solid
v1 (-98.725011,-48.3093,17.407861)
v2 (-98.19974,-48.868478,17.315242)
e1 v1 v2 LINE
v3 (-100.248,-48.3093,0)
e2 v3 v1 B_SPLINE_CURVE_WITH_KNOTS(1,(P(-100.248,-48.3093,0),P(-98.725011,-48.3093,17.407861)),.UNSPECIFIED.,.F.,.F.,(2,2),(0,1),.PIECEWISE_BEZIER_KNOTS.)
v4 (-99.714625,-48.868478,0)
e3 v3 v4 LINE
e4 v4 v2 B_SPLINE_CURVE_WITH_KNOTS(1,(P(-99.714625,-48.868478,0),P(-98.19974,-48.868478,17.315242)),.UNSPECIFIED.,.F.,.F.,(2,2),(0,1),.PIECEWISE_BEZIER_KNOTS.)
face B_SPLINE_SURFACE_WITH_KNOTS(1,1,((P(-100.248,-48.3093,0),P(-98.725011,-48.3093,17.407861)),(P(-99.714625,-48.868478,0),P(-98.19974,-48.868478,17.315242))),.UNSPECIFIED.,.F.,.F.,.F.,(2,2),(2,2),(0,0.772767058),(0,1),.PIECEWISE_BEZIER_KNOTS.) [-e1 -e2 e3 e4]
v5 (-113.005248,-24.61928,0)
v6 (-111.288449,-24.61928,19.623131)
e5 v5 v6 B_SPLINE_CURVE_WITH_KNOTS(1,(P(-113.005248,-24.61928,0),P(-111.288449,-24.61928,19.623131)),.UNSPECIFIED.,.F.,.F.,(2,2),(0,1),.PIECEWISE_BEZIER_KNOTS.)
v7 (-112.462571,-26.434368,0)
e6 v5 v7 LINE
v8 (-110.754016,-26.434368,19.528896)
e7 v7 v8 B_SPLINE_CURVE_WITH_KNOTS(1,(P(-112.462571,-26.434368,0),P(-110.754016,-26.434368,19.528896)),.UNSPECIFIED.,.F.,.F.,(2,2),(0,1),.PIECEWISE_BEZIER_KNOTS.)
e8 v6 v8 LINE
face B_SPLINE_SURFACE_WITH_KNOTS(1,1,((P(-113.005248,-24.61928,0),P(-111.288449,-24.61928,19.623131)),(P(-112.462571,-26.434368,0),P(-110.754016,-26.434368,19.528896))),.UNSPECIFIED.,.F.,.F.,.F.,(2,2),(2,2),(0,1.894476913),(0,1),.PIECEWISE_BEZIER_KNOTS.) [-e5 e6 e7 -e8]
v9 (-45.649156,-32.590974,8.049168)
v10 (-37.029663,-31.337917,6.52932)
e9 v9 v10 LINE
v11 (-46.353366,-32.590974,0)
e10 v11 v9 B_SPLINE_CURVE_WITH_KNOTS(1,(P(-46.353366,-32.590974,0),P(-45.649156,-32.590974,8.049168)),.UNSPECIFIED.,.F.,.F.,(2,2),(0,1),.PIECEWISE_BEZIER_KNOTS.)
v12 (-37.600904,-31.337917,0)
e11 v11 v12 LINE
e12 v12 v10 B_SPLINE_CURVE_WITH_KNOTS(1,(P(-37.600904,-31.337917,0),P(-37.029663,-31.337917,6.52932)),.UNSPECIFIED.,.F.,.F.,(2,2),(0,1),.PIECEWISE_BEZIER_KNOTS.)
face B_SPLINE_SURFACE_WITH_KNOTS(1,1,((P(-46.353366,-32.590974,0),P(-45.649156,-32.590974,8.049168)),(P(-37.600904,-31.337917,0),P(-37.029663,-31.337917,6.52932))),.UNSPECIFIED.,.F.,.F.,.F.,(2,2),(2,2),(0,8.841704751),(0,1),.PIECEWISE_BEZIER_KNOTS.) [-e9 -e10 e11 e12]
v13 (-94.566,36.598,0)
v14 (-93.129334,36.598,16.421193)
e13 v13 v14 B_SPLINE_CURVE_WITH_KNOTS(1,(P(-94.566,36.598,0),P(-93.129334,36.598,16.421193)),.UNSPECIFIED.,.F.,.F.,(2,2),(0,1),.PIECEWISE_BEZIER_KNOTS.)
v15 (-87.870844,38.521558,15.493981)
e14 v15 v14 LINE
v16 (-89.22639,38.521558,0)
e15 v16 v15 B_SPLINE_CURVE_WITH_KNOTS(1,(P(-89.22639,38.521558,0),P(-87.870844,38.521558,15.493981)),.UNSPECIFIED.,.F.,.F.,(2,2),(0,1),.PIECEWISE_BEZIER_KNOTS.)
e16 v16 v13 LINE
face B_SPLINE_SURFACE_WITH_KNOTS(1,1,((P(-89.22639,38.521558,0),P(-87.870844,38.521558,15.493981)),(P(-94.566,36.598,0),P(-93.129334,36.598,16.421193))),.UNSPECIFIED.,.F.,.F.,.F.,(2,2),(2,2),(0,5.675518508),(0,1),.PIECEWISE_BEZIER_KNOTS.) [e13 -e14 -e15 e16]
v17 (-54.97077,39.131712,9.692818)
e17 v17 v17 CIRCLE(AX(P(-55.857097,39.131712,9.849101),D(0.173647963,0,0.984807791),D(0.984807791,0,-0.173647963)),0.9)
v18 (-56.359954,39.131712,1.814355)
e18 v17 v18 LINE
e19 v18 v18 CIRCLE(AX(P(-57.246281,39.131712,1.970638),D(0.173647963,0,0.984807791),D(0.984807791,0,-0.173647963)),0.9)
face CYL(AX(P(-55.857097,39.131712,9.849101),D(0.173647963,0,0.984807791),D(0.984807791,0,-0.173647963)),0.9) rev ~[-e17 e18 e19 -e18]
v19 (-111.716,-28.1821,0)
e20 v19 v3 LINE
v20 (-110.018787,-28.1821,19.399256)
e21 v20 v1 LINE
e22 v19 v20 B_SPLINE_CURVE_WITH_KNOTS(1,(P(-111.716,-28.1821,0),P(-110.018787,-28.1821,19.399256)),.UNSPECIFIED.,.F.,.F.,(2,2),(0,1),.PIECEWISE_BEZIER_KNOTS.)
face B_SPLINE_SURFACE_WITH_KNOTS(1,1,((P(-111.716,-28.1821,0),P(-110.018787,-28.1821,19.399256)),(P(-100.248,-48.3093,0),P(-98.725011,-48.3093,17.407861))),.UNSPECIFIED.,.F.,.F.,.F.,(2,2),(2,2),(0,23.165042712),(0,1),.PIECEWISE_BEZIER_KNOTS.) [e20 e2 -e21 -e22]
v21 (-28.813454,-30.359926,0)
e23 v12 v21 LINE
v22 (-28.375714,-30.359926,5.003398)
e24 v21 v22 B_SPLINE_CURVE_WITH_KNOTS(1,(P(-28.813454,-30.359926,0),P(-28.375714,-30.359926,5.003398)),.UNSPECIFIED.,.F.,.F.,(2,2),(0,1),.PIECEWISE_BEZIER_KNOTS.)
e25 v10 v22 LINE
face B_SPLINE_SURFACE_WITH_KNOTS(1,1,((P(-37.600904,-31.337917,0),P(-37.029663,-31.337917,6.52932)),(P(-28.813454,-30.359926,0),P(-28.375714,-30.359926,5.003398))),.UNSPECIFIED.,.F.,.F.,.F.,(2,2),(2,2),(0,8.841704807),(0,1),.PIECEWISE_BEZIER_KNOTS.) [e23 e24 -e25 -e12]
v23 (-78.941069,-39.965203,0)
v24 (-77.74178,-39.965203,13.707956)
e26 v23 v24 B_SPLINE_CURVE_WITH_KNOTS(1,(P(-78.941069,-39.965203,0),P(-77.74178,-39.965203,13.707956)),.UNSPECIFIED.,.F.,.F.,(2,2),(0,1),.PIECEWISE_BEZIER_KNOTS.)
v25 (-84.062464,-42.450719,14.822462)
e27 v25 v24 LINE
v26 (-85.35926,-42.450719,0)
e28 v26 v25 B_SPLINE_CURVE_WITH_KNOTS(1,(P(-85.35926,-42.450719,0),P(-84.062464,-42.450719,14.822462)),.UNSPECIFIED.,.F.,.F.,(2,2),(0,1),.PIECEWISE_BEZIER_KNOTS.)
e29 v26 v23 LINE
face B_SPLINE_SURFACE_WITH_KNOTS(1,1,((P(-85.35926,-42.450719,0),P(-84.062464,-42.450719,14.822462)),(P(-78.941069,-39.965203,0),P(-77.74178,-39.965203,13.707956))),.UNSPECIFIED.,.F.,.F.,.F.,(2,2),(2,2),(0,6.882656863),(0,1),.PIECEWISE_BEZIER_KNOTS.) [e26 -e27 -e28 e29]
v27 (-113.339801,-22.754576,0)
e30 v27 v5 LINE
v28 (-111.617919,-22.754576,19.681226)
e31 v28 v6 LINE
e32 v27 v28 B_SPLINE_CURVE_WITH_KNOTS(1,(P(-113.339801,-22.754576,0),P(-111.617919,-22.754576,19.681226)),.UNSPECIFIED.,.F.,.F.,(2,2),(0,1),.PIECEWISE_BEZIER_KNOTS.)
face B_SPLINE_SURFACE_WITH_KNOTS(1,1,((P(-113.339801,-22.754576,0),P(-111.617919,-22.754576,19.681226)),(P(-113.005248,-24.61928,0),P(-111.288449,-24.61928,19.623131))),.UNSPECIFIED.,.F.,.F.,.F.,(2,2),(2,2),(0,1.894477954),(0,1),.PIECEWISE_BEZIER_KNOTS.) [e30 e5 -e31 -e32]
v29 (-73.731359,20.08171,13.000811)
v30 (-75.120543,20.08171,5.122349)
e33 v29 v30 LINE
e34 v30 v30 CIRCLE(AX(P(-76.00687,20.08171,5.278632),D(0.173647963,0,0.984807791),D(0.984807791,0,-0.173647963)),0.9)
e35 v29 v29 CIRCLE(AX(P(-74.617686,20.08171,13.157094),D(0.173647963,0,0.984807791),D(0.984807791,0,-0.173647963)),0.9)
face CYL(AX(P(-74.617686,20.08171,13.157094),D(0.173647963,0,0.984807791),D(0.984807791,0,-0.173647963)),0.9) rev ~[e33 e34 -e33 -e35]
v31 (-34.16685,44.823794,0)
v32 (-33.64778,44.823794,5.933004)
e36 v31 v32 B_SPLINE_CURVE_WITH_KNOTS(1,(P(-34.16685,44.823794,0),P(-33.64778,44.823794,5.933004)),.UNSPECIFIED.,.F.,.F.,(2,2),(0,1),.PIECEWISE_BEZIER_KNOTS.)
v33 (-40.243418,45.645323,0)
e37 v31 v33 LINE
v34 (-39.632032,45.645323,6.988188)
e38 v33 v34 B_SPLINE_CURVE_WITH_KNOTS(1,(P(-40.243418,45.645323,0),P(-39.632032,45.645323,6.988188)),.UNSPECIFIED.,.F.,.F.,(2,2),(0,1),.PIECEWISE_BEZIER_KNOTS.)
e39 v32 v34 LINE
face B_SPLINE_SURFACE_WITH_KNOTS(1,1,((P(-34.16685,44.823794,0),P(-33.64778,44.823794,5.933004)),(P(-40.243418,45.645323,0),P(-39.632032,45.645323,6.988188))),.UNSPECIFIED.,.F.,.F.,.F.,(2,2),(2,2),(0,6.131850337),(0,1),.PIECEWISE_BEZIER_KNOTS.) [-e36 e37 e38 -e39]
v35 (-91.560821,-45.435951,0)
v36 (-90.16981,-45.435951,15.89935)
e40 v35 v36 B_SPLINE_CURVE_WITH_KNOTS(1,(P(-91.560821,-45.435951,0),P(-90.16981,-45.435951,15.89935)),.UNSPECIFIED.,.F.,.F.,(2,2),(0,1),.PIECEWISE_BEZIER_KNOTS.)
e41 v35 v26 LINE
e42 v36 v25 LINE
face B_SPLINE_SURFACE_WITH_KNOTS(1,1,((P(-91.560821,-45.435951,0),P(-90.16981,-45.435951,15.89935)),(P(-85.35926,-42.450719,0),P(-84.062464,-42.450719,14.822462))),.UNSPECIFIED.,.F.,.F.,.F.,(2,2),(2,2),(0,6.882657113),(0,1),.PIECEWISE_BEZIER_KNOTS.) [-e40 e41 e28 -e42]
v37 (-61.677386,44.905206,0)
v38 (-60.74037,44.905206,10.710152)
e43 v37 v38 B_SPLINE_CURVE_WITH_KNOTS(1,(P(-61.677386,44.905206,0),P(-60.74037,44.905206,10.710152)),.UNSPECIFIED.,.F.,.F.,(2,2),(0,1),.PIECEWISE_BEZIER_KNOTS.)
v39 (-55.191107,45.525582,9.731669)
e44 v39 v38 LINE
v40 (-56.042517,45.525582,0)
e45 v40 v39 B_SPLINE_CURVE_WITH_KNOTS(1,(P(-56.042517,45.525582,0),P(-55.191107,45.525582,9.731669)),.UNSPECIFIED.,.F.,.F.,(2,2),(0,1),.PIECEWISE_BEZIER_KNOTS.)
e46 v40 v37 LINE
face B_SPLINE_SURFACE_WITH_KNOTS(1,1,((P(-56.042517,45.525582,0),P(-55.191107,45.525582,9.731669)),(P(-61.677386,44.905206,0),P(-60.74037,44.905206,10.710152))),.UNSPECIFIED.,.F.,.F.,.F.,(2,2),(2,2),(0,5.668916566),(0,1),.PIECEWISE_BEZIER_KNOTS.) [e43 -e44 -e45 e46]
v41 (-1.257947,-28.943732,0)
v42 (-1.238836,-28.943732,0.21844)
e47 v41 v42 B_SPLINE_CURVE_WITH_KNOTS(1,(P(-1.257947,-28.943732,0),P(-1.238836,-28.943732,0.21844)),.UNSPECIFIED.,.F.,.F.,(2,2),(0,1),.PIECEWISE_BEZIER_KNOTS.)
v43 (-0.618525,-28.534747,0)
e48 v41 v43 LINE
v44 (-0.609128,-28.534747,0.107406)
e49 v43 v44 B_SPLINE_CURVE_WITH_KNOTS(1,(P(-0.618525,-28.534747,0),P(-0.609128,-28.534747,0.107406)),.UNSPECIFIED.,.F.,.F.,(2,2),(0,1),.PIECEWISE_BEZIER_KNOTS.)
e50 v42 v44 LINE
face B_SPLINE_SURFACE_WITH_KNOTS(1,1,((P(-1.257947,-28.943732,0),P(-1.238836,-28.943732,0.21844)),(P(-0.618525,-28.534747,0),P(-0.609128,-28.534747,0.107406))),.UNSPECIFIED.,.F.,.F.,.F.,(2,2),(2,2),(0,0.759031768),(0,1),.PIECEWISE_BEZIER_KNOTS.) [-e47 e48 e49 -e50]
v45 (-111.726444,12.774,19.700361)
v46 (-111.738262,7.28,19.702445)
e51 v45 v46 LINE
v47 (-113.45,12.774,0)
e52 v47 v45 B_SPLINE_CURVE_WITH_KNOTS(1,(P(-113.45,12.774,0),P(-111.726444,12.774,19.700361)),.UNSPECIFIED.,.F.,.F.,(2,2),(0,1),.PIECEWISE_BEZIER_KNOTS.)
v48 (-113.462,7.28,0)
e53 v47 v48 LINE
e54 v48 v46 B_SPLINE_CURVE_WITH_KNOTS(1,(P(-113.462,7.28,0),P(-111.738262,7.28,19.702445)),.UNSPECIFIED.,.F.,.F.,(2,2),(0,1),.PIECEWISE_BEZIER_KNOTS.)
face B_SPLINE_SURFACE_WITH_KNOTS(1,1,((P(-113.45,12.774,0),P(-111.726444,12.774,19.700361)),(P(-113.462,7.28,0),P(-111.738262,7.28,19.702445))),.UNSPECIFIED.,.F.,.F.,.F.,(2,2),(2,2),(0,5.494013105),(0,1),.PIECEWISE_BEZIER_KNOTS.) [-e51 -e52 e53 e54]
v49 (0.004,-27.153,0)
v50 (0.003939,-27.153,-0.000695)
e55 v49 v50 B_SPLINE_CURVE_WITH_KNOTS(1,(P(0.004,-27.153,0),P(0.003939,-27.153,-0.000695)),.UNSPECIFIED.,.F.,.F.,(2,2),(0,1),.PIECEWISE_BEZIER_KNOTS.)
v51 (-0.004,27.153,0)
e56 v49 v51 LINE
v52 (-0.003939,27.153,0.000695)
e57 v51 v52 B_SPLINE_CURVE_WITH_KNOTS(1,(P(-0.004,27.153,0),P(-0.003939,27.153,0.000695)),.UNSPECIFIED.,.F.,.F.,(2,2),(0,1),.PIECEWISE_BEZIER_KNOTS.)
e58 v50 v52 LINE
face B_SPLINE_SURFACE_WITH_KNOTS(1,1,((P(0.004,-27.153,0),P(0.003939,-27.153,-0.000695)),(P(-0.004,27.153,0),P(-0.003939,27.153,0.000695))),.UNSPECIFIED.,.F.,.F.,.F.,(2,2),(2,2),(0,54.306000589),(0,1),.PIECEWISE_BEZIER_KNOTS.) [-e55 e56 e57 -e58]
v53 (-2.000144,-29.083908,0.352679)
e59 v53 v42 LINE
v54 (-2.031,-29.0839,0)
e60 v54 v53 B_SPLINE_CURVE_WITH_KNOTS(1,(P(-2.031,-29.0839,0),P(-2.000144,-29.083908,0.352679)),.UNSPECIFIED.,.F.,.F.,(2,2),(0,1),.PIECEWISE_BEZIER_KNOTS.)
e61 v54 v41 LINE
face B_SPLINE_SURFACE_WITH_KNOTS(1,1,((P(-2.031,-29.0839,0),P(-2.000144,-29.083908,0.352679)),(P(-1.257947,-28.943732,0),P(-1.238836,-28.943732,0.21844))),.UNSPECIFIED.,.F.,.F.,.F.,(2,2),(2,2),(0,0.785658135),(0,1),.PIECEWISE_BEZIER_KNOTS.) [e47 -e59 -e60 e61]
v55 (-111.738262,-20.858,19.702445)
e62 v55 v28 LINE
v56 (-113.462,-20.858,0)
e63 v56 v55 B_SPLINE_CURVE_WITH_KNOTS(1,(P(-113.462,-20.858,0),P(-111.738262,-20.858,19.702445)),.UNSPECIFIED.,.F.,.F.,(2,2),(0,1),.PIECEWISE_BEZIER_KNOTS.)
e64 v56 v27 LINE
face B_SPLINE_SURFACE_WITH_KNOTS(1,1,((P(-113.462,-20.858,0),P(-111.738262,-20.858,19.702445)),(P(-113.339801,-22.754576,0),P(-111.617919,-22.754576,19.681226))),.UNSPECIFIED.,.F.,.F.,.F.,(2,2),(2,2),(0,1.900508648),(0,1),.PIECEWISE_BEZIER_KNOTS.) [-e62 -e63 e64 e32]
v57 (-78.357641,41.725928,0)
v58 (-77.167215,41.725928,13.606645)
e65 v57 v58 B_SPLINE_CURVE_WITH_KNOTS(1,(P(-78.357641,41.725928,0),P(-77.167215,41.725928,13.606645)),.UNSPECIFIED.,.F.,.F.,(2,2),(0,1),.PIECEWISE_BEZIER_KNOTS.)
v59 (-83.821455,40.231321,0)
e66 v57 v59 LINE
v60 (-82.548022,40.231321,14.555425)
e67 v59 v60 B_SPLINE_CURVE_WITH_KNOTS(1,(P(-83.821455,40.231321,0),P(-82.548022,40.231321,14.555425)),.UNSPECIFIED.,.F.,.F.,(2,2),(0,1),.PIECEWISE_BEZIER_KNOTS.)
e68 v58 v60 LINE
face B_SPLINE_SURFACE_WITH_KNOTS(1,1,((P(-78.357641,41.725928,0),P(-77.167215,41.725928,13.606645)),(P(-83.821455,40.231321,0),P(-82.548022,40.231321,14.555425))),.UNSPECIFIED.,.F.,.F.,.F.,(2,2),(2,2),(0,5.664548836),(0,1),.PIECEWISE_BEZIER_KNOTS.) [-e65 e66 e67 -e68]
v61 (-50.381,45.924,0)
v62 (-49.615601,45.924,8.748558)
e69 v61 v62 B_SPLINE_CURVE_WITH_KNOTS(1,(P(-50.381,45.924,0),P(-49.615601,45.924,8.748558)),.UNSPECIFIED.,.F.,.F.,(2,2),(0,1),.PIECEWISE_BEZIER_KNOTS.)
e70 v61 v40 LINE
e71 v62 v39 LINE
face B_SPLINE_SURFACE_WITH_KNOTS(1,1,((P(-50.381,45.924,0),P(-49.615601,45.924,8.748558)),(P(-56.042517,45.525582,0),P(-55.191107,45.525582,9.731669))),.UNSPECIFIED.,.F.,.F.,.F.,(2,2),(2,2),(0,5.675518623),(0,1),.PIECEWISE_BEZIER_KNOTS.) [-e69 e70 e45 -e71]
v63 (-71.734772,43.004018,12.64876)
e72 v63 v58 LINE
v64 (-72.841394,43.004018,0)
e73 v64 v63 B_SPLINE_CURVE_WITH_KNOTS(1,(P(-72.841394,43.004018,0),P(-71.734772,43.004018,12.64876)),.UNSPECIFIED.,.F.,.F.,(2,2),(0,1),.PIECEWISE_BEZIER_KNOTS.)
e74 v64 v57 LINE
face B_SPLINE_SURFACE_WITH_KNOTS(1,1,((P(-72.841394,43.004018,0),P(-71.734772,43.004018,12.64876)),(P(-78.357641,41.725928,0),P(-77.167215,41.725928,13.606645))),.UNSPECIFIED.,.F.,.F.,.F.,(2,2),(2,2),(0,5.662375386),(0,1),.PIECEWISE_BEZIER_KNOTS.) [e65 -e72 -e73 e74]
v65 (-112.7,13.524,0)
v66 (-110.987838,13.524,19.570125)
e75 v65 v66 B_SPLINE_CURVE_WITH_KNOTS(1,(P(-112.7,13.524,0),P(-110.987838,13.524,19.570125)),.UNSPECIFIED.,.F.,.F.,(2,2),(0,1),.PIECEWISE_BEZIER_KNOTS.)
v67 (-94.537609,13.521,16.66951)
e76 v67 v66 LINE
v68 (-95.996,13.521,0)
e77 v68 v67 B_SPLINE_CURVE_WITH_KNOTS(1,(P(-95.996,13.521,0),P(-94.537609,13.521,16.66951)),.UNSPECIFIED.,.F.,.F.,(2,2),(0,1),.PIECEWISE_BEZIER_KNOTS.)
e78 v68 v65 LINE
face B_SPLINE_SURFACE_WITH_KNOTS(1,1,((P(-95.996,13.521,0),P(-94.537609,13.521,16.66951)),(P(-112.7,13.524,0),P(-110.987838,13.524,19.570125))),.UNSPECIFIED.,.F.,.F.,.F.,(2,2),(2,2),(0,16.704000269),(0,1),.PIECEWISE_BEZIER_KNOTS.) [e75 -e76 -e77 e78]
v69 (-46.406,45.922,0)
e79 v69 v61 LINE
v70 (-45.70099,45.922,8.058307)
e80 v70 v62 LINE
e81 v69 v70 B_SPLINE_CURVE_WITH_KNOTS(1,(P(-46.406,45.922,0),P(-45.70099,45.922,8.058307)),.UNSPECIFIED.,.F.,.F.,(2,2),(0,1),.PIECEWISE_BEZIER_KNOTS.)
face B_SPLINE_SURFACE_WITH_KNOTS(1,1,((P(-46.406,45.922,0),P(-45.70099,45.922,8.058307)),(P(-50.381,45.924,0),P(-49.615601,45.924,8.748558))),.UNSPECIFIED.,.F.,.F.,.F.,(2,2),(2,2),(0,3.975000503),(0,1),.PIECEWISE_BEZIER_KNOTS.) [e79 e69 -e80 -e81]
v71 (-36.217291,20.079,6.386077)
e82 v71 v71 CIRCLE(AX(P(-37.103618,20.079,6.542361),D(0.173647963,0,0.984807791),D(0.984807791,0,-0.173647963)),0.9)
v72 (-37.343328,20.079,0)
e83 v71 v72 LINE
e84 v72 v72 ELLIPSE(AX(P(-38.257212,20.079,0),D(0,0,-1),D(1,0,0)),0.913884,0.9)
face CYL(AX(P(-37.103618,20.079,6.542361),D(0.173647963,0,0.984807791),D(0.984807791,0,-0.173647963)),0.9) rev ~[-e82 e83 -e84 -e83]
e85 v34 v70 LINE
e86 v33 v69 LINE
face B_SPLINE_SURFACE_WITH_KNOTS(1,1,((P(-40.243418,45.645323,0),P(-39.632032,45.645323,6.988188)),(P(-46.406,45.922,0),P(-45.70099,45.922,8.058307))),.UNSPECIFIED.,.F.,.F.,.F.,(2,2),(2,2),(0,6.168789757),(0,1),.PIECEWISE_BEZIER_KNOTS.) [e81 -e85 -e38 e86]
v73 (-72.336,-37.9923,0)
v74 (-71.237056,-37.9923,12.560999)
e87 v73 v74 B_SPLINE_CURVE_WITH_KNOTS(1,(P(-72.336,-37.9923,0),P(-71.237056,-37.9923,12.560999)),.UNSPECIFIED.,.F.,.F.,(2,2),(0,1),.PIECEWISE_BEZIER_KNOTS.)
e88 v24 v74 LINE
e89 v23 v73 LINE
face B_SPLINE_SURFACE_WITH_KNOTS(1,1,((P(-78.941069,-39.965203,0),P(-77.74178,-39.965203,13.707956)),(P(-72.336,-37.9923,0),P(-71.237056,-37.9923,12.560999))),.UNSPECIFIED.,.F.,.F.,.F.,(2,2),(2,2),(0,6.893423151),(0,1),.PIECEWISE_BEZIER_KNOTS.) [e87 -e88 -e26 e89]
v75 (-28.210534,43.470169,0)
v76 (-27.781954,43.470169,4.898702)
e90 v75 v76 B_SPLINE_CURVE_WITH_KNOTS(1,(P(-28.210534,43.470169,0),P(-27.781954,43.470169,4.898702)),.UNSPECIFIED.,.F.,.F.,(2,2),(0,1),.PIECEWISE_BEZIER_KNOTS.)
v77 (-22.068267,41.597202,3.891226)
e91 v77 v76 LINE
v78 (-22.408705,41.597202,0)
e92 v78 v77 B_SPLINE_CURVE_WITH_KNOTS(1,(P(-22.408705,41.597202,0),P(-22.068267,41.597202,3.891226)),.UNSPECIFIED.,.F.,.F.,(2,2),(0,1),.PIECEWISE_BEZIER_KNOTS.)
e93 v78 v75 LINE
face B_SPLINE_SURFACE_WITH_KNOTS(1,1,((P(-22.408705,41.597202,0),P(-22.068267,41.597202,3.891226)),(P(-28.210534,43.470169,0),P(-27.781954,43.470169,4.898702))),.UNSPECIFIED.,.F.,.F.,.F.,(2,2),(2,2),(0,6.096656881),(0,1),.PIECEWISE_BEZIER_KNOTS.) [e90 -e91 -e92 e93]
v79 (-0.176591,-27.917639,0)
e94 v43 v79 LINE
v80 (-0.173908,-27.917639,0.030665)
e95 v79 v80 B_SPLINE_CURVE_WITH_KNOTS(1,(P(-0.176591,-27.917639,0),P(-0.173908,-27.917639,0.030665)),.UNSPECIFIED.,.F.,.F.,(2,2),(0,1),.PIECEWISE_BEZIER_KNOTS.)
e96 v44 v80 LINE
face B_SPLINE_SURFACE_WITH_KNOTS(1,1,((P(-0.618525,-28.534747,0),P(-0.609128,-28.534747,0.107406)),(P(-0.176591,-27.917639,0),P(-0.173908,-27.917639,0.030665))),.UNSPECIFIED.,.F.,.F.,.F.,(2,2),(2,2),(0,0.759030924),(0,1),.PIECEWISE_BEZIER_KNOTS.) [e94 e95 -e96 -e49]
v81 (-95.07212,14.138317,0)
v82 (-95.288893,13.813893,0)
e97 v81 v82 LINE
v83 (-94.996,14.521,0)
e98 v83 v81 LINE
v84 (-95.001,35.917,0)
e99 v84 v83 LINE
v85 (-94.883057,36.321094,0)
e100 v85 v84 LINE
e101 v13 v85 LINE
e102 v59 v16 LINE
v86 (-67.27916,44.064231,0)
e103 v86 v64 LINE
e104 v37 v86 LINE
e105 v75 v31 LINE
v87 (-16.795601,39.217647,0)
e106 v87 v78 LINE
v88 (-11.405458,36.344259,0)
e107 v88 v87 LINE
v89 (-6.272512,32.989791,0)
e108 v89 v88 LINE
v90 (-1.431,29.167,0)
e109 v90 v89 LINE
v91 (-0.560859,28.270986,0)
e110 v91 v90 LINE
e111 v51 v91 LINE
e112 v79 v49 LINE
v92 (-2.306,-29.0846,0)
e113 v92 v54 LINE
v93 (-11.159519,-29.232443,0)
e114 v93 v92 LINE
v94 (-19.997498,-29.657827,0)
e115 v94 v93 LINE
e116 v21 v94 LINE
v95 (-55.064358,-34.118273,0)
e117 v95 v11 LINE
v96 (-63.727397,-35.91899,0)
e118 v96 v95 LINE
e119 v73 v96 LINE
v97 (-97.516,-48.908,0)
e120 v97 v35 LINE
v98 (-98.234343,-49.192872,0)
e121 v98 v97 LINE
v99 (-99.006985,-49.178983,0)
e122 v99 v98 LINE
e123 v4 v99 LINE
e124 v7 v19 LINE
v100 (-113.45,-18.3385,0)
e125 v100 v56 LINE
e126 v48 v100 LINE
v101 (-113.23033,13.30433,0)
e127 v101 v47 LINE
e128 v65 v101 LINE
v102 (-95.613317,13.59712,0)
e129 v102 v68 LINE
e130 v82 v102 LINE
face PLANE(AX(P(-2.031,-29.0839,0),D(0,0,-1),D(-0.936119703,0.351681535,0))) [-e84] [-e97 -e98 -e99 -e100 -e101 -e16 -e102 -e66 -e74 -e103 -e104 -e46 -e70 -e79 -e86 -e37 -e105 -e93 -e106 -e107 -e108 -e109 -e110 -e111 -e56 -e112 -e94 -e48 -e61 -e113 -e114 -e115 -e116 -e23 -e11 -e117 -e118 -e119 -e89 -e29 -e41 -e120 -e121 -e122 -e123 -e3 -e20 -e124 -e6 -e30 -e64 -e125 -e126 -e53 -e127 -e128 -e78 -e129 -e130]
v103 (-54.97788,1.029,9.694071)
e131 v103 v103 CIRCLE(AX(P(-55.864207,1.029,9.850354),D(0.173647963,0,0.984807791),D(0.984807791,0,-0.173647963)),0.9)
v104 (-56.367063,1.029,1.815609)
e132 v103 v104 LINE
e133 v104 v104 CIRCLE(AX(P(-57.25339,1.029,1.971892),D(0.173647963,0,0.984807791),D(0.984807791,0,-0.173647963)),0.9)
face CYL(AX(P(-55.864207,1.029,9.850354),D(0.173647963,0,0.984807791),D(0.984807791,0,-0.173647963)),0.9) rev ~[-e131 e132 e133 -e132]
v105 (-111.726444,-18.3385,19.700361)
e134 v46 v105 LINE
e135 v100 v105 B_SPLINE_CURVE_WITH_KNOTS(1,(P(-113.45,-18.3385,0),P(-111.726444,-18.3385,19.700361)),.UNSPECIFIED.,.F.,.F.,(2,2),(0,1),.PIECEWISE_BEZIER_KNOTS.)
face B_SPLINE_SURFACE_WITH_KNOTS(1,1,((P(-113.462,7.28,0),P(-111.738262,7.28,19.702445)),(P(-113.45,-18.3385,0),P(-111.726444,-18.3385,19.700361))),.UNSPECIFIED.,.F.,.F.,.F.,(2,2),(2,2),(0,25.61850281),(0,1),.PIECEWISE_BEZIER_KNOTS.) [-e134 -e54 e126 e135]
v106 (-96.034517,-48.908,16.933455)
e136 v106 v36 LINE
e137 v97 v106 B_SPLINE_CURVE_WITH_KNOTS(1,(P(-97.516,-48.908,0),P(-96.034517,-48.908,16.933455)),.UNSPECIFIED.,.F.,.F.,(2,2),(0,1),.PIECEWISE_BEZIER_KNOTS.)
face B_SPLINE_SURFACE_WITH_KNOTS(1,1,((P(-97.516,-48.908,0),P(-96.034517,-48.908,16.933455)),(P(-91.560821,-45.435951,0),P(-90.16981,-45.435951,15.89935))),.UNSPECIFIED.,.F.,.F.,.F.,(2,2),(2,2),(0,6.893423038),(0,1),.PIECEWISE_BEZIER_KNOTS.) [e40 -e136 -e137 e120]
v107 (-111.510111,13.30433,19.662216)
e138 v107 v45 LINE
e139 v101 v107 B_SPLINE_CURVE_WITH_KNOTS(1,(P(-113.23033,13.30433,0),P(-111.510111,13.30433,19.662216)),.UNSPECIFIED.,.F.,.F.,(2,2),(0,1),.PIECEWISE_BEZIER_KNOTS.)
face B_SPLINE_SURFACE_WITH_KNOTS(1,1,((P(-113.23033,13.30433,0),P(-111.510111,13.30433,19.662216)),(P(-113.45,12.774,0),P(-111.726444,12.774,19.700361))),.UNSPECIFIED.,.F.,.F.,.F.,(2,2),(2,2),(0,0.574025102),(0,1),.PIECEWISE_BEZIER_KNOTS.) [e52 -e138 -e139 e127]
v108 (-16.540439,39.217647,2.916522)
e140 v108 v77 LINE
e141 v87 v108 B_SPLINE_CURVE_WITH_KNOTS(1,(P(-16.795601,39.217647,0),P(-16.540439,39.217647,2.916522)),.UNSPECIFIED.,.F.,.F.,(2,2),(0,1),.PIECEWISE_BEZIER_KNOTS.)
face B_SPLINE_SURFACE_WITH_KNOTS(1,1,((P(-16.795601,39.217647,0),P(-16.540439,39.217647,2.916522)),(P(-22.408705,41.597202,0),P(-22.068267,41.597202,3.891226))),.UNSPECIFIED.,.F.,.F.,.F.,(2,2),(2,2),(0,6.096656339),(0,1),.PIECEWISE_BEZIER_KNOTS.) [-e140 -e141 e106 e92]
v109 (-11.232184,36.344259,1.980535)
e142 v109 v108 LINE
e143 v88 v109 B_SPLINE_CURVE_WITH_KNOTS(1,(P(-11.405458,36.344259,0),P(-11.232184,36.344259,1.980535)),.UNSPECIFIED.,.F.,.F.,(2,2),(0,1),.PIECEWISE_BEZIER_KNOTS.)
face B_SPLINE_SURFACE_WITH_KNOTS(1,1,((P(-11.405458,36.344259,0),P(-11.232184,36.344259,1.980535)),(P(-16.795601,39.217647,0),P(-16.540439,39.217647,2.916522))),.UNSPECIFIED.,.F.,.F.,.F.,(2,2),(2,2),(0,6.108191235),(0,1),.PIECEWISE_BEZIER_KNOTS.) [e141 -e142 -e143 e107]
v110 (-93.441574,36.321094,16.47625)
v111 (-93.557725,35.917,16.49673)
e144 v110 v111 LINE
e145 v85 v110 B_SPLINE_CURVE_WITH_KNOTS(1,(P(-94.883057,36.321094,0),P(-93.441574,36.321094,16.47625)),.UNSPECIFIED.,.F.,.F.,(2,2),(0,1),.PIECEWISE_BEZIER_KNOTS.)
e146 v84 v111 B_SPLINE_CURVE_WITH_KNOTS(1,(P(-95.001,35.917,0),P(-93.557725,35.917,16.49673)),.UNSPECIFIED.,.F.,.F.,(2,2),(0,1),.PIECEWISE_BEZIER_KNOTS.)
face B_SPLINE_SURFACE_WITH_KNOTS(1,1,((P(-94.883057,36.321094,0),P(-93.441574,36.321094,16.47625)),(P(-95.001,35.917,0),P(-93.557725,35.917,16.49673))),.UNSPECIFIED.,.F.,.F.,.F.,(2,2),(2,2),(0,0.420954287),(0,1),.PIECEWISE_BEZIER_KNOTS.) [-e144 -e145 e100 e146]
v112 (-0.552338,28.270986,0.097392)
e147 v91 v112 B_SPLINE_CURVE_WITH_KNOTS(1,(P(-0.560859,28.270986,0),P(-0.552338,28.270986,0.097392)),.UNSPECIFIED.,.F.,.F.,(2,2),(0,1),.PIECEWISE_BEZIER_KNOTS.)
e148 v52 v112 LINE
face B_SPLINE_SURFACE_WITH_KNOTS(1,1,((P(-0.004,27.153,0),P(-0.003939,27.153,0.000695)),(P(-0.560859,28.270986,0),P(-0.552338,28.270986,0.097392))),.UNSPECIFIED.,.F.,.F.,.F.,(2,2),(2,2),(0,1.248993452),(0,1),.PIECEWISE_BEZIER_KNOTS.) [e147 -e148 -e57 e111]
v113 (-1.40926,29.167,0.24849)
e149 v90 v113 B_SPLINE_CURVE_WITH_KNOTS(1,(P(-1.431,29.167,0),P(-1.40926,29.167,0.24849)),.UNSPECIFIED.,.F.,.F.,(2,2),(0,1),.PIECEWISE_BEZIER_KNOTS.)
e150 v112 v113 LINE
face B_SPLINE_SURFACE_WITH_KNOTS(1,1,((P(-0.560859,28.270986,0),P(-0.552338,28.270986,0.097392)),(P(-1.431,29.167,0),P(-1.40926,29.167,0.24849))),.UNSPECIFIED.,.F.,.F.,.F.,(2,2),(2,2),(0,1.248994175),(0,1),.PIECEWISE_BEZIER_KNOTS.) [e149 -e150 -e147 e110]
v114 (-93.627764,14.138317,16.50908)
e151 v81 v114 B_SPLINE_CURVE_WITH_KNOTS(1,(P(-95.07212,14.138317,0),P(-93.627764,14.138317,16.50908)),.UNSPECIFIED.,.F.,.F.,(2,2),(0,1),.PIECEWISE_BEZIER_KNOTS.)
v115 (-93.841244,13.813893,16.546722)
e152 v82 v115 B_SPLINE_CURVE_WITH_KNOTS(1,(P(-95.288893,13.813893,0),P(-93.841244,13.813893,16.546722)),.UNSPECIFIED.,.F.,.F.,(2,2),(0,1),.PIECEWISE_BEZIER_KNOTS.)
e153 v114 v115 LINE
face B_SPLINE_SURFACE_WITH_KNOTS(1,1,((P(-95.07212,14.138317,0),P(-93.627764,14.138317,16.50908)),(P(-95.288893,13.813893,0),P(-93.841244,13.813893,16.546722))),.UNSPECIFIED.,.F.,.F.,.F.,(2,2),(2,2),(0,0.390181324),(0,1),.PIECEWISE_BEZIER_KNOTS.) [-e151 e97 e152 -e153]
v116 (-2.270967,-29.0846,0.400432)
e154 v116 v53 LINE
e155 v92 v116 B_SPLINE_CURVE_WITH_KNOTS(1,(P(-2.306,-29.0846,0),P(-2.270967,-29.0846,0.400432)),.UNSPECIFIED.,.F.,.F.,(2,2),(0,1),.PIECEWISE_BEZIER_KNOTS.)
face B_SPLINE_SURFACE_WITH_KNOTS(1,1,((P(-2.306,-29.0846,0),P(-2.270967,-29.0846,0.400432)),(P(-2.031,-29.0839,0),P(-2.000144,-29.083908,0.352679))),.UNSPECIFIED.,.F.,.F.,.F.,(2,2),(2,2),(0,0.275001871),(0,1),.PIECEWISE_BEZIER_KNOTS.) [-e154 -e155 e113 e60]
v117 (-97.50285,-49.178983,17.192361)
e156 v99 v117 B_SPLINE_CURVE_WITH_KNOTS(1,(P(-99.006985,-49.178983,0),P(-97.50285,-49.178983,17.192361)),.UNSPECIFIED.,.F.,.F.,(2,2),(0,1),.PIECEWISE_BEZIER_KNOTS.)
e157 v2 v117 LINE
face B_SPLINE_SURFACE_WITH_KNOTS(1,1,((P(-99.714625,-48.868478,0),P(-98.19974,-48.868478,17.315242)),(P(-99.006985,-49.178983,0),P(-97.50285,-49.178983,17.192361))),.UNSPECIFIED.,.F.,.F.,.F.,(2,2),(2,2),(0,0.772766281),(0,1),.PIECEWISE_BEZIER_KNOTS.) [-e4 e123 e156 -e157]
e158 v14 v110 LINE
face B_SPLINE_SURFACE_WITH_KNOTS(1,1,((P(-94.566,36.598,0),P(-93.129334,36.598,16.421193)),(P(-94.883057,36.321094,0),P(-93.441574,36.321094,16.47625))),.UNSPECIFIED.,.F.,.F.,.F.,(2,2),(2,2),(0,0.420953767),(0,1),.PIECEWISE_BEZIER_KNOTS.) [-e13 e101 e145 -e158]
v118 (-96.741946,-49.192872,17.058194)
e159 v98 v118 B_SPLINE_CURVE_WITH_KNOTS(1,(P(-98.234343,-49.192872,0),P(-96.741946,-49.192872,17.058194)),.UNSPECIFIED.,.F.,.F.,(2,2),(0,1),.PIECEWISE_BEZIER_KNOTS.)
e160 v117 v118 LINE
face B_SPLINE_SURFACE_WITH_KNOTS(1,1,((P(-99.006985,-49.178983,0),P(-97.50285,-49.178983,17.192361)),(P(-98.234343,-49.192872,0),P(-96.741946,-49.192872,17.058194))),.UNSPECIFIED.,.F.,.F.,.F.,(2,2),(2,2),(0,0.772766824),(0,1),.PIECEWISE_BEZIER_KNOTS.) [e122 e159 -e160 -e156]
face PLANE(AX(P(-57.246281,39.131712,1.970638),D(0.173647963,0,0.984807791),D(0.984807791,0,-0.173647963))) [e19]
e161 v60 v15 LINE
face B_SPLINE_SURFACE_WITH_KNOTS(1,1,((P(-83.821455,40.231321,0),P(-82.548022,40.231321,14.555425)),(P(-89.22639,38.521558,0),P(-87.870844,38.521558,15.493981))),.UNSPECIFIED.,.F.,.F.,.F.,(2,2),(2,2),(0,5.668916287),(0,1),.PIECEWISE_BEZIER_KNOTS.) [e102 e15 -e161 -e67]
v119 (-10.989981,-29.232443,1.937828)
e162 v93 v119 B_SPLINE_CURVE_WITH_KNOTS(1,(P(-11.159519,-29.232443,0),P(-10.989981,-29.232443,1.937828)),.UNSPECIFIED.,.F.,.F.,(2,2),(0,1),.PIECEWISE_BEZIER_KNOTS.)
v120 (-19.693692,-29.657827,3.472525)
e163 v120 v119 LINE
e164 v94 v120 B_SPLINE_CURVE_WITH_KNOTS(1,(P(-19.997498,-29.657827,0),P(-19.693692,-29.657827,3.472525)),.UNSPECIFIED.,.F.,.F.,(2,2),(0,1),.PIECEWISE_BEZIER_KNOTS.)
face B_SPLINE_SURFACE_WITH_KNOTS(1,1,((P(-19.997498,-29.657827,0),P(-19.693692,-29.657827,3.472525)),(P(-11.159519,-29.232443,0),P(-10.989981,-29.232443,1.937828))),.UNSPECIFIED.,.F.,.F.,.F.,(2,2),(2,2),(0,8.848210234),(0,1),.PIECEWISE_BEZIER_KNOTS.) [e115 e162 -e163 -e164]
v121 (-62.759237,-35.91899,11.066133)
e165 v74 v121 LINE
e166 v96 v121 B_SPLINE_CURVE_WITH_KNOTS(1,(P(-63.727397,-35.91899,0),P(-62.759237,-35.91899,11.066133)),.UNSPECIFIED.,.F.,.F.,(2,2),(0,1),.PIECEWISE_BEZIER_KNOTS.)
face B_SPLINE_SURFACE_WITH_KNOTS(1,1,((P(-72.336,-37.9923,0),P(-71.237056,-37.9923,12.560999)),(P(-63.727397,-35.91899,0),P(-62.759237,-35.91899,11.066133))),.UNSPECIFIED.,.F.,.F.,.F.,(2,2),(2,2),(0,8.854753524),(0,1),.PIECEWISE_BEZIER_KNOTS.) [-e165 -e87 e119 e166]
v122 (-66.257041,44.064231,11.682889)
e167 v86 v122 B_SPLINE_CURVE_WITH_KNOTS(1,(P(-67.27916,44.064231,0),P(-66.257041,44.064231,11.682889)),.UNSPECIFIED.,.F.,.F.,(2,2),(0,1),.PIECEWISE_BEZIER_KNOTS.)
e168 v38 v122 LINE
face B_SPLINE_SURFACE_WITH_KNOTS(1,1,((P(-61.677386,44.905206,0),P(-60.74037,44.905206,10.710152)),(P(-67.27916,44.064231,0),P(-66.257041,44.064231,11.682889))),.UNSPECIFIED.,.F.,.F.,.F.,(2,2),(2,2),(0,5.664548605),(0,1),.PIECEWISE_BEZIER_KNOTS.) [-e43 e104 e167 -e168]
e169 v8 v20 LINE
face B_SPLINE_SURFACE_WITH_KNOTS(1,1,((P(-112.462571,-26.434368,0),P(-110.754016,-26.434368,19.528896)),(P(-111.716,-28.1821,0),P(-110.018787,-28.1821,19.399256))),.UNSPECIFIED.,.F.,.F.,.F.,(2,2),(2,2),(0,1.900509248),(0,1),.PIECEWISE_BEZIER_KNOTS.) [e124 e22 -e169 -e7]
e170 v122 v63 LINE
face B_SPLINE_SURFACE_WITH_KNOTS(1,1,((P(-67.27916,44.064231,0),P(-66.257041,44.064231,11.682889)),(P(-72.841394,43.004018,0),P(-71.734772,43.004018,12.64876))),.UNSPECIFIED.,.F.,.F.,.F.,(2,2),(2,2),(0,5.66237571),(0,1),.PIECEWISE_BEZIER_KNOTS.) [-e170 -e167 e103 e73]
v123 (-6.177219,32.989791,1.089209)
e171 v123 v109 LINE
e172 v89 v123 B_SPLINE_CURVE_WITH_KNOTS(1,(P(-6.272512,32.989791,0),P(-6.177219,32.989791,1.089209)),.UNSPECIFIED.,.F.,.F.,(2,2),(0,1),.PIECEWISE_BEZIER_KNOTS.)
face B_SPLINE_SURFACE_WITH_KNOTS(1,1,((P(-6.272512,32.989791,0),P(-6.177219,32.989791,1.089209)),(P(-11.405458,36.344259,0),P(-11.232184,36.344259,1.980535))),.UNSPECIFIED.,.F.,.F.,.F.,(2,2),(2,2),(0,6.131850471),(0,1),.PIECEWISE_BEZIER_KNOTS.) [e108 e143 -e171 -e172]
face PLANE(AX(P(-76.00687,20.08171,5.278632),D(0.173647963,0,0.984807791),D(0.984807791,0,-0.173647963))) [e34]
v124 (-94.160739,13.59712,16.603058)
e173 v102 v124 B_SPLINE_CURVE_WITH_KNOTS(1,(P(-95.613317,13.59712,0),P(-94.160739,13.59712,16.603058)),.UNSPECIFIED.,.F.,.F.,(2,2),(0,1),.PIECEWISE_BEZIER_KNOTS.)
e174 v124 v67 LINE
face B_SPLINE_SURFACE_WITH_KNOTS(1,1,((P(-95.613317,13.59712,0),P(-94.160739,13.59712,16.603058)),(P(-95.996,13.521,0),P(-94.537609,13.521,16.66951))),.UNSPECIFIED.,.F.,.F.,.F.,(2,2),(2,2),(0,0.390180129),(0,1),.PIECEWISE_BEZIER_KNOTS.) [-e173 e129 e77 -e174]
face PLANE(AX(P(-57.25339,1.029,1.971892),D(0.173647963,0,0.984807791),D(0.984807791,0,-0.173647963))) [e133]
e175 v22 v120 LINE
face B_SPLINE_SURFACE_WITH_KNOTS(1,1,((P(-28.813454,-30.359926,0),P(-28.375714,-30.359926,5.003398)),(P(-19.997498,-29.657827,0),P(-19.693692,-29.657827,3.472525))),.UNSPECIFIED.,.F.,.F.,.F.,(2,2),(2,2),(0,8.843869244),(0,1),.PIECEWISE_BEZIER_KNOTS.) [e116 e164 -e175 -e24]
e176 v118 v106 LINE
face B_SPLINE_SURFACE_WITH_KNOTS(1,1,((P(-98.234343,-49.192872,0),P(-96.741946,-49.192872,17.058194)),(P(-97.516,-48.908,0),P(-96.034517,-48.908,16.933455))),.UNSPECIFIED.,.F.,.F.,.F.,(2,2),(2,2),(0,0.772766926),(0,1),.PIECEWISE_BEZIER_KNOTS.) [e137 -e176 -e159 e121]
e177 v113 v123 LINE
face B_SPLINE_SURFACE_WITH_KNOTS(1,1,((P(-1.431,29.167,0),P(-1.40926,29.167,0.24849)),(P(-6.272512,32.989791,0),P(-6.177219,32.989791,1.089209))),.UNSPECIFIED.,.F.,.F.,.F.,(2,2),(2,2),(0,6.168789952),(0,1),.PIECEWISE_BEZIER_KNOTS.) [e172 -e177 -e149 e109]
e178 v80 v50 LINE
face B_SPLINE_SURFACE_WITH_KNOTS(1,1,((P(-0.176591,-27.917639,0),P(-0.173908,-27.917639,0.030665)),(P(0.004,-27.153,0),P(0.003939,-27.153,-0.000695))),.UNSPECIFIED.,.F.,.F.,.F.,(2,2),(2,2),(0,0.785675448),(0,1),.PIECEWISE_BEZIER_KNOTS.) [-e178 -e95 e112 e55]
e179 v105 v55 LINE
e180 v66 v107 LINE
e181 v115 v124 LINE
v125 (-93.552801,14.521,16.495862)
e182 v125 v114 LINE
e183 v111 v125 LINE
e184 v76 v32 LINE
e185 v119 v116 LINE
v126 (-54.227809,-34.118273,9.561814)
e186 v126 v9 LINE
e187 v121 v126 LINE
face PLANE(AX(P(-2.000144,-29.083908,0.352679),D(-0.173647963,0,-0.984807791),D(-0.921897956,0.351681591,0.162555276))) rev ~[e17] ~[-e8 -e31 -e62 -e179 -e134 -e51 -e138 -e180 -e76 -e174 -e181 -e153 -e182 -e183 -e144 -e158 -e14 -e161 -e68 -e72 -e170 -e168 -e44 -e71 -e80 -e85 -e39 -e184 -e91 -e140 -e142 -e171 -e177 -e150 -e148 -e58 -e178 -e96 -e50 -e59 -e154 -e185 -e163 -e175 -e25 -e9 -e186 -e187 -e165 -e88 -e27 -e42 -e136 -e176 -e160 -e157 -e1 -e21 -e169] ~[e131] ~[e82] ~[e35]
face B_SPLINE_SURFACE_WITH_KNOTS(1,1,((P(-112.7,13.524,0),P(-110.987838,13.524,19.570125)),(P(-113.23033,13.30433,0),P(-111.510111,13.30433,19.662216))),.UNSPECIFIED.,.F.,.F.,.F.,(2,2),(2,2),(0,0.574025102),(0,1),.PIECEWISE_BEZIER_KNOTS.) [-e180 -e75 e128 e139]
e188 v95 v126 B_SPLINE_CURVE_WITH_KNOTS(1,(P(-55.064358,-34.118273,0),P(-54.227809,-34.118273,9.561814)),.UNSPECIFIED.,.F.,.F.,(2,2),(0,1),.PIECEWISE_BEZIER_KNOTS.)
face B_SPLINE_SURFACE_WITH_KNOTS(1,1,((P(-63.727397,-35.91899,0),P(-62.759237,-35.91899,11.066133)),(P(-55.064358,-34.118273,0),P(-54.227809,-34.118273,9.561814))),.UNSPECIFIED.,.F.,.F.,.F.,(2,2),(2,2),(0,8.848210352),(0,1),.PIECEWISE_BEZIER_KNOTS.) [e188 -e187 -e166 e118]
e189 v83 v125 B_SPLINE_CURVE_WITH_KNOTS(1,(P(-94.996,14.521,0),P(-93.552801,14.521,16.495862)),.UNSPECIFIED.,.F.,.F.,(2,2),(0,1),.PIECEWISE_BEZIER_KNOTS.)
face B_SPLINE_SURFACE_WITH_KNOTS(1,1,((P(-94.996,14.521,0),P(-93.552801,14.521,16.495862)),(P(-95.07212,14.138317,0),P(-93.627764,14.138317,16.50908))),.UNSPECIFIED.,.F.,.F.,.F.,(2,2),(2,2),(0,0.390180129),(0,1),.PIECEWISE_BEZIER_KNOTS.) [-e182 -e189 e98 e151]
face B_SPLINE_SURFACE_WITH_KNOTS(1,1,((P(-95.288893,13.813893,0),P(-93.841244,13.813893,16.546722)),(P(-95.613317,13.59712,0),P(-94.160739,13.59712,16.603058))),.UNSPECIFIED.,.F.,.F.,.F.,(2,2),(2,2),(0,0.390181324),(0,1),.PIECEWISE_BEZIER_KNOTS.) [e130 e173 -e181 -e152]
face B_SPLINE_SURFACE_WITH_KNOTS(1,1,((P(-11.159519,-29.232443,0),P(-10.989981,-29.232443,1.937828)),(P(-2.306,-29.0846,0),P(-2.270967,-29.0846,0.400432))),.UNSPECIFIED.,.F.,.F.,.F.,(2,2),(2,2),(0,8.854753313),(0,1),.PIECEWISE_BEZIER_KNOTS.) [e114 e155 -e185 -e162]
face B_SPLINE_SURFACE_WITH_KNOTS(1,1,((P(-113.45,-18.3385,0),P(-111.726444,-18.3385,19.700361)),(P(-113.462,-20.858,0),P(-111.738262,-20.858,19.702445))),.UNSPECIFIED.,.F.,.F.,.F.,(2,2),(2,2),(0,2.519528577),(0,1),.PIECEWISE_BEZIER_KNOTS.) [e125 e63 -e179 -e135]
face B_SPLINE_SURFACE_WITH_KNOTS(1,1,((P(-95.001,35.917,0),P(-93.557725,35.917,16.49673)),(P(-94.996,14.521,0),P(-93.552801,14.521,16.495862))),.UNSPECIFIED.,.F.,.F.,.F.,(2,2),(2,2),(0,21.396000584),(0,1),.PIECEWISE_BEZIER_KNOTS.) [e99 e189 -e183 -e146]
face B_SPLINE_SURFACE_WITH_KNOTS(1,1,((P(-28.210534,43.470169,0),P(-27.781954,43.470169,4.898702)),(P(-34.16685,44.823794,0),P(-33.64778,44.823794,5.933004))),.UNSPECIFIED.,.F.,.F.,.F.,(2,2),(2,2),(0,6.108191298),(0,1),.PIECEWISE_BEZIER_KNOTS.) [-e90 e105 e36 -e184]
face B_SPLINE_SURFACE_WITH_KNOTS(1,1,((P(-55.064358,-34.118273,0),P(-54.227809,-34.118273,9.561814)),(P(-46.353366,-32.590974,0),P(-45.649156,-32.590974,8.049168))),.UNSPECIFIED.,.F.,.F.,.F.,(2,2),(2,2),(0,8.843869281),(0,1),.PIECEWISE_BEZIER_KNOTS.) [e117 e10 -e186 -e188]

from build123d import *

# Parameters (mm, degrees)
SKETCH_R     = 0.9
POCKET_DEPTH = 8


with BuildPart() as part:
    # Sketch001 → AdditiveLoft section 0
    with BuildSketch(Plane.XY):
        Polygon((-2.031, -29.0839), (-1.257947, -28.943732), (-0.618525, -28.534747), (-0.176591, -27.917639), (0.004, -27.153), (-0.004, 27.153), (-0.560859, 28.270986), (-1.431, 29.167), (-6.272512, 32.989791), (-11.405458, 36.344259), (-16.795601, 39.217647), (-22.408705, 41.597202), (-28.210534, 43.470169), (-34.16685, 44.823794), (-40.243418, 45.645323), (-46.406, 45.922), (-50.381, 45.924), (-56.042517, 45.525582), (-61.677386, 44.905206), (-67.27916, 44.064231), (-72.841394, 43.004018), (-78.357641, 41.725928), (-83.821455, 40.231321), (-89.22639, 38.521558), (-94.566, 36.598), (-94.883057, 36.321094), (-95.001, 35.917), (-94.996, 14.521), (-95.07212, 14.138317), (-95.288893, 13.813893), (-95.613317, 13.59712), (-95.996, 13.521), (-112.7, 13.524), (-113.23033, 13.30433), (-113.45, 12.774), (-113.462, 7.28), (-113.45, -18.3385), (-113.462, -20.858), (-113.339801, -22.754576), (-113.005248, -24.61928), (-112.462571, -26.434368), (-111.716, -28.1821), (-100.248, -48.3093), (-99.714625, -48.868478), (-99.006985, -49.178983), (-98.234343, -49.192872), (-97.516, -48.908), (-91.560821, -45.435951), (-85.35926, -42.450719), (-78.941069, -39.965203), (-72.336, -37.9923), (-63.727397, -35.91899), (-55.064358, -34.118273), (-46.353366, -32.590974), (-37.600904, -31.337917), (-28.813454, -30.359926), (-19.997498, -29.657827), (-11.159519, -29.232443), (-2.306, -29.0846), align=None)
    # Sketch002 (on DatumPlane) → AdditiveLoft section 1
    with BuildSketch(Plane(origin=(0, 0, 0), x_dir=(0.984808, 0, -0.173648), z_dir=(0.173648, 0, 0.984808))):
        Polygon((-2.030999, -29.083908), (-1.257947, -28.943732), (-0.618525, -28.534747), (-0.176591, -27.917639), (0.004, -27.153), (-0.004, 27.153), (-0.560859, 28.270986), (-1.431, 29.167), (-6.272512, 32.989791), (-11.405458, 36.344259), (-16.795601, 39.217647), (-22.408705, 41.597202), (-28.210534, 43.470169), (-34.16685, 44.823794), (-40.243418, 45.645323), (-46.406, 45.922), (-50.381, 45.924), (-56.042517, 45.525582), (-61.677386, 44.905206), (-67.27916, 44.064231), (-72.841394, 43.004018), (-78.357641, 41.725928), (-83.821455, 40.231321), (-89.22639, 38.521558), (-94.566, 36.598), (-94.883057, 36.321094), (-95.001, 35.917), (-94.996, 14.521), (-95.07212, 14.138317), (-95.288893, 13.813893), (-95.613317, 13.59712), (-95.996, 13.521), (-112.7, 13.524), (-113.23033, 13.30433), (-113.45, 12.774), (-113.462, 7.28), (-113.45, -18.3385), (-113.462, -20.858), (-113.339801, -22.754576), (-113.005248, -24.61928), (-112.462571, -26.434368), (-111.716, -28.1821), (-100.248, -48.3093), (-99.714625, -48.868478), (-99.006985, -49.178983), (-98.234343, -49.192872), (-97.516, -48.908), (-91.560821, -45.435951), (-85.35926, -42.450719), (-78.941069, -39.965203), (-72.336, -37.9923), (-63.727397, -35.91899), (-55.064358, -34.118273), (-46.353366, -32.590974), (-37.600904, -31.337917), (-28.813454, -30.359926), (-19.997498, -29.657827), (-11.159519, -29.232443), (-2.306, -29.0846), align=None)
    loft()

    # Sketch (on DatumPlane) → Pocket (cut)
    with BuildSketch(Plane(origin=(0, 0, 0), x_dir=(0.984808, 0, -0.173648), z_dir=(0.173648, 0, 0.984808))):
        with Locations((-75.768781, 20.08171)):
            Circle(SKETCH_R)
        with Locations((-56.718781, 39.131712)):
            Circle(SKETCH_R)
        with Locations((-37.676, 20.079)):
            Circle(SKETCH_R)
        with Locations((-56.726, 1.029)):
            Circle(SKETCH_R)
    extrude(amount=-POCKET_DEPTH, mode=Mode.SUBTRACT)


solid = part.part
